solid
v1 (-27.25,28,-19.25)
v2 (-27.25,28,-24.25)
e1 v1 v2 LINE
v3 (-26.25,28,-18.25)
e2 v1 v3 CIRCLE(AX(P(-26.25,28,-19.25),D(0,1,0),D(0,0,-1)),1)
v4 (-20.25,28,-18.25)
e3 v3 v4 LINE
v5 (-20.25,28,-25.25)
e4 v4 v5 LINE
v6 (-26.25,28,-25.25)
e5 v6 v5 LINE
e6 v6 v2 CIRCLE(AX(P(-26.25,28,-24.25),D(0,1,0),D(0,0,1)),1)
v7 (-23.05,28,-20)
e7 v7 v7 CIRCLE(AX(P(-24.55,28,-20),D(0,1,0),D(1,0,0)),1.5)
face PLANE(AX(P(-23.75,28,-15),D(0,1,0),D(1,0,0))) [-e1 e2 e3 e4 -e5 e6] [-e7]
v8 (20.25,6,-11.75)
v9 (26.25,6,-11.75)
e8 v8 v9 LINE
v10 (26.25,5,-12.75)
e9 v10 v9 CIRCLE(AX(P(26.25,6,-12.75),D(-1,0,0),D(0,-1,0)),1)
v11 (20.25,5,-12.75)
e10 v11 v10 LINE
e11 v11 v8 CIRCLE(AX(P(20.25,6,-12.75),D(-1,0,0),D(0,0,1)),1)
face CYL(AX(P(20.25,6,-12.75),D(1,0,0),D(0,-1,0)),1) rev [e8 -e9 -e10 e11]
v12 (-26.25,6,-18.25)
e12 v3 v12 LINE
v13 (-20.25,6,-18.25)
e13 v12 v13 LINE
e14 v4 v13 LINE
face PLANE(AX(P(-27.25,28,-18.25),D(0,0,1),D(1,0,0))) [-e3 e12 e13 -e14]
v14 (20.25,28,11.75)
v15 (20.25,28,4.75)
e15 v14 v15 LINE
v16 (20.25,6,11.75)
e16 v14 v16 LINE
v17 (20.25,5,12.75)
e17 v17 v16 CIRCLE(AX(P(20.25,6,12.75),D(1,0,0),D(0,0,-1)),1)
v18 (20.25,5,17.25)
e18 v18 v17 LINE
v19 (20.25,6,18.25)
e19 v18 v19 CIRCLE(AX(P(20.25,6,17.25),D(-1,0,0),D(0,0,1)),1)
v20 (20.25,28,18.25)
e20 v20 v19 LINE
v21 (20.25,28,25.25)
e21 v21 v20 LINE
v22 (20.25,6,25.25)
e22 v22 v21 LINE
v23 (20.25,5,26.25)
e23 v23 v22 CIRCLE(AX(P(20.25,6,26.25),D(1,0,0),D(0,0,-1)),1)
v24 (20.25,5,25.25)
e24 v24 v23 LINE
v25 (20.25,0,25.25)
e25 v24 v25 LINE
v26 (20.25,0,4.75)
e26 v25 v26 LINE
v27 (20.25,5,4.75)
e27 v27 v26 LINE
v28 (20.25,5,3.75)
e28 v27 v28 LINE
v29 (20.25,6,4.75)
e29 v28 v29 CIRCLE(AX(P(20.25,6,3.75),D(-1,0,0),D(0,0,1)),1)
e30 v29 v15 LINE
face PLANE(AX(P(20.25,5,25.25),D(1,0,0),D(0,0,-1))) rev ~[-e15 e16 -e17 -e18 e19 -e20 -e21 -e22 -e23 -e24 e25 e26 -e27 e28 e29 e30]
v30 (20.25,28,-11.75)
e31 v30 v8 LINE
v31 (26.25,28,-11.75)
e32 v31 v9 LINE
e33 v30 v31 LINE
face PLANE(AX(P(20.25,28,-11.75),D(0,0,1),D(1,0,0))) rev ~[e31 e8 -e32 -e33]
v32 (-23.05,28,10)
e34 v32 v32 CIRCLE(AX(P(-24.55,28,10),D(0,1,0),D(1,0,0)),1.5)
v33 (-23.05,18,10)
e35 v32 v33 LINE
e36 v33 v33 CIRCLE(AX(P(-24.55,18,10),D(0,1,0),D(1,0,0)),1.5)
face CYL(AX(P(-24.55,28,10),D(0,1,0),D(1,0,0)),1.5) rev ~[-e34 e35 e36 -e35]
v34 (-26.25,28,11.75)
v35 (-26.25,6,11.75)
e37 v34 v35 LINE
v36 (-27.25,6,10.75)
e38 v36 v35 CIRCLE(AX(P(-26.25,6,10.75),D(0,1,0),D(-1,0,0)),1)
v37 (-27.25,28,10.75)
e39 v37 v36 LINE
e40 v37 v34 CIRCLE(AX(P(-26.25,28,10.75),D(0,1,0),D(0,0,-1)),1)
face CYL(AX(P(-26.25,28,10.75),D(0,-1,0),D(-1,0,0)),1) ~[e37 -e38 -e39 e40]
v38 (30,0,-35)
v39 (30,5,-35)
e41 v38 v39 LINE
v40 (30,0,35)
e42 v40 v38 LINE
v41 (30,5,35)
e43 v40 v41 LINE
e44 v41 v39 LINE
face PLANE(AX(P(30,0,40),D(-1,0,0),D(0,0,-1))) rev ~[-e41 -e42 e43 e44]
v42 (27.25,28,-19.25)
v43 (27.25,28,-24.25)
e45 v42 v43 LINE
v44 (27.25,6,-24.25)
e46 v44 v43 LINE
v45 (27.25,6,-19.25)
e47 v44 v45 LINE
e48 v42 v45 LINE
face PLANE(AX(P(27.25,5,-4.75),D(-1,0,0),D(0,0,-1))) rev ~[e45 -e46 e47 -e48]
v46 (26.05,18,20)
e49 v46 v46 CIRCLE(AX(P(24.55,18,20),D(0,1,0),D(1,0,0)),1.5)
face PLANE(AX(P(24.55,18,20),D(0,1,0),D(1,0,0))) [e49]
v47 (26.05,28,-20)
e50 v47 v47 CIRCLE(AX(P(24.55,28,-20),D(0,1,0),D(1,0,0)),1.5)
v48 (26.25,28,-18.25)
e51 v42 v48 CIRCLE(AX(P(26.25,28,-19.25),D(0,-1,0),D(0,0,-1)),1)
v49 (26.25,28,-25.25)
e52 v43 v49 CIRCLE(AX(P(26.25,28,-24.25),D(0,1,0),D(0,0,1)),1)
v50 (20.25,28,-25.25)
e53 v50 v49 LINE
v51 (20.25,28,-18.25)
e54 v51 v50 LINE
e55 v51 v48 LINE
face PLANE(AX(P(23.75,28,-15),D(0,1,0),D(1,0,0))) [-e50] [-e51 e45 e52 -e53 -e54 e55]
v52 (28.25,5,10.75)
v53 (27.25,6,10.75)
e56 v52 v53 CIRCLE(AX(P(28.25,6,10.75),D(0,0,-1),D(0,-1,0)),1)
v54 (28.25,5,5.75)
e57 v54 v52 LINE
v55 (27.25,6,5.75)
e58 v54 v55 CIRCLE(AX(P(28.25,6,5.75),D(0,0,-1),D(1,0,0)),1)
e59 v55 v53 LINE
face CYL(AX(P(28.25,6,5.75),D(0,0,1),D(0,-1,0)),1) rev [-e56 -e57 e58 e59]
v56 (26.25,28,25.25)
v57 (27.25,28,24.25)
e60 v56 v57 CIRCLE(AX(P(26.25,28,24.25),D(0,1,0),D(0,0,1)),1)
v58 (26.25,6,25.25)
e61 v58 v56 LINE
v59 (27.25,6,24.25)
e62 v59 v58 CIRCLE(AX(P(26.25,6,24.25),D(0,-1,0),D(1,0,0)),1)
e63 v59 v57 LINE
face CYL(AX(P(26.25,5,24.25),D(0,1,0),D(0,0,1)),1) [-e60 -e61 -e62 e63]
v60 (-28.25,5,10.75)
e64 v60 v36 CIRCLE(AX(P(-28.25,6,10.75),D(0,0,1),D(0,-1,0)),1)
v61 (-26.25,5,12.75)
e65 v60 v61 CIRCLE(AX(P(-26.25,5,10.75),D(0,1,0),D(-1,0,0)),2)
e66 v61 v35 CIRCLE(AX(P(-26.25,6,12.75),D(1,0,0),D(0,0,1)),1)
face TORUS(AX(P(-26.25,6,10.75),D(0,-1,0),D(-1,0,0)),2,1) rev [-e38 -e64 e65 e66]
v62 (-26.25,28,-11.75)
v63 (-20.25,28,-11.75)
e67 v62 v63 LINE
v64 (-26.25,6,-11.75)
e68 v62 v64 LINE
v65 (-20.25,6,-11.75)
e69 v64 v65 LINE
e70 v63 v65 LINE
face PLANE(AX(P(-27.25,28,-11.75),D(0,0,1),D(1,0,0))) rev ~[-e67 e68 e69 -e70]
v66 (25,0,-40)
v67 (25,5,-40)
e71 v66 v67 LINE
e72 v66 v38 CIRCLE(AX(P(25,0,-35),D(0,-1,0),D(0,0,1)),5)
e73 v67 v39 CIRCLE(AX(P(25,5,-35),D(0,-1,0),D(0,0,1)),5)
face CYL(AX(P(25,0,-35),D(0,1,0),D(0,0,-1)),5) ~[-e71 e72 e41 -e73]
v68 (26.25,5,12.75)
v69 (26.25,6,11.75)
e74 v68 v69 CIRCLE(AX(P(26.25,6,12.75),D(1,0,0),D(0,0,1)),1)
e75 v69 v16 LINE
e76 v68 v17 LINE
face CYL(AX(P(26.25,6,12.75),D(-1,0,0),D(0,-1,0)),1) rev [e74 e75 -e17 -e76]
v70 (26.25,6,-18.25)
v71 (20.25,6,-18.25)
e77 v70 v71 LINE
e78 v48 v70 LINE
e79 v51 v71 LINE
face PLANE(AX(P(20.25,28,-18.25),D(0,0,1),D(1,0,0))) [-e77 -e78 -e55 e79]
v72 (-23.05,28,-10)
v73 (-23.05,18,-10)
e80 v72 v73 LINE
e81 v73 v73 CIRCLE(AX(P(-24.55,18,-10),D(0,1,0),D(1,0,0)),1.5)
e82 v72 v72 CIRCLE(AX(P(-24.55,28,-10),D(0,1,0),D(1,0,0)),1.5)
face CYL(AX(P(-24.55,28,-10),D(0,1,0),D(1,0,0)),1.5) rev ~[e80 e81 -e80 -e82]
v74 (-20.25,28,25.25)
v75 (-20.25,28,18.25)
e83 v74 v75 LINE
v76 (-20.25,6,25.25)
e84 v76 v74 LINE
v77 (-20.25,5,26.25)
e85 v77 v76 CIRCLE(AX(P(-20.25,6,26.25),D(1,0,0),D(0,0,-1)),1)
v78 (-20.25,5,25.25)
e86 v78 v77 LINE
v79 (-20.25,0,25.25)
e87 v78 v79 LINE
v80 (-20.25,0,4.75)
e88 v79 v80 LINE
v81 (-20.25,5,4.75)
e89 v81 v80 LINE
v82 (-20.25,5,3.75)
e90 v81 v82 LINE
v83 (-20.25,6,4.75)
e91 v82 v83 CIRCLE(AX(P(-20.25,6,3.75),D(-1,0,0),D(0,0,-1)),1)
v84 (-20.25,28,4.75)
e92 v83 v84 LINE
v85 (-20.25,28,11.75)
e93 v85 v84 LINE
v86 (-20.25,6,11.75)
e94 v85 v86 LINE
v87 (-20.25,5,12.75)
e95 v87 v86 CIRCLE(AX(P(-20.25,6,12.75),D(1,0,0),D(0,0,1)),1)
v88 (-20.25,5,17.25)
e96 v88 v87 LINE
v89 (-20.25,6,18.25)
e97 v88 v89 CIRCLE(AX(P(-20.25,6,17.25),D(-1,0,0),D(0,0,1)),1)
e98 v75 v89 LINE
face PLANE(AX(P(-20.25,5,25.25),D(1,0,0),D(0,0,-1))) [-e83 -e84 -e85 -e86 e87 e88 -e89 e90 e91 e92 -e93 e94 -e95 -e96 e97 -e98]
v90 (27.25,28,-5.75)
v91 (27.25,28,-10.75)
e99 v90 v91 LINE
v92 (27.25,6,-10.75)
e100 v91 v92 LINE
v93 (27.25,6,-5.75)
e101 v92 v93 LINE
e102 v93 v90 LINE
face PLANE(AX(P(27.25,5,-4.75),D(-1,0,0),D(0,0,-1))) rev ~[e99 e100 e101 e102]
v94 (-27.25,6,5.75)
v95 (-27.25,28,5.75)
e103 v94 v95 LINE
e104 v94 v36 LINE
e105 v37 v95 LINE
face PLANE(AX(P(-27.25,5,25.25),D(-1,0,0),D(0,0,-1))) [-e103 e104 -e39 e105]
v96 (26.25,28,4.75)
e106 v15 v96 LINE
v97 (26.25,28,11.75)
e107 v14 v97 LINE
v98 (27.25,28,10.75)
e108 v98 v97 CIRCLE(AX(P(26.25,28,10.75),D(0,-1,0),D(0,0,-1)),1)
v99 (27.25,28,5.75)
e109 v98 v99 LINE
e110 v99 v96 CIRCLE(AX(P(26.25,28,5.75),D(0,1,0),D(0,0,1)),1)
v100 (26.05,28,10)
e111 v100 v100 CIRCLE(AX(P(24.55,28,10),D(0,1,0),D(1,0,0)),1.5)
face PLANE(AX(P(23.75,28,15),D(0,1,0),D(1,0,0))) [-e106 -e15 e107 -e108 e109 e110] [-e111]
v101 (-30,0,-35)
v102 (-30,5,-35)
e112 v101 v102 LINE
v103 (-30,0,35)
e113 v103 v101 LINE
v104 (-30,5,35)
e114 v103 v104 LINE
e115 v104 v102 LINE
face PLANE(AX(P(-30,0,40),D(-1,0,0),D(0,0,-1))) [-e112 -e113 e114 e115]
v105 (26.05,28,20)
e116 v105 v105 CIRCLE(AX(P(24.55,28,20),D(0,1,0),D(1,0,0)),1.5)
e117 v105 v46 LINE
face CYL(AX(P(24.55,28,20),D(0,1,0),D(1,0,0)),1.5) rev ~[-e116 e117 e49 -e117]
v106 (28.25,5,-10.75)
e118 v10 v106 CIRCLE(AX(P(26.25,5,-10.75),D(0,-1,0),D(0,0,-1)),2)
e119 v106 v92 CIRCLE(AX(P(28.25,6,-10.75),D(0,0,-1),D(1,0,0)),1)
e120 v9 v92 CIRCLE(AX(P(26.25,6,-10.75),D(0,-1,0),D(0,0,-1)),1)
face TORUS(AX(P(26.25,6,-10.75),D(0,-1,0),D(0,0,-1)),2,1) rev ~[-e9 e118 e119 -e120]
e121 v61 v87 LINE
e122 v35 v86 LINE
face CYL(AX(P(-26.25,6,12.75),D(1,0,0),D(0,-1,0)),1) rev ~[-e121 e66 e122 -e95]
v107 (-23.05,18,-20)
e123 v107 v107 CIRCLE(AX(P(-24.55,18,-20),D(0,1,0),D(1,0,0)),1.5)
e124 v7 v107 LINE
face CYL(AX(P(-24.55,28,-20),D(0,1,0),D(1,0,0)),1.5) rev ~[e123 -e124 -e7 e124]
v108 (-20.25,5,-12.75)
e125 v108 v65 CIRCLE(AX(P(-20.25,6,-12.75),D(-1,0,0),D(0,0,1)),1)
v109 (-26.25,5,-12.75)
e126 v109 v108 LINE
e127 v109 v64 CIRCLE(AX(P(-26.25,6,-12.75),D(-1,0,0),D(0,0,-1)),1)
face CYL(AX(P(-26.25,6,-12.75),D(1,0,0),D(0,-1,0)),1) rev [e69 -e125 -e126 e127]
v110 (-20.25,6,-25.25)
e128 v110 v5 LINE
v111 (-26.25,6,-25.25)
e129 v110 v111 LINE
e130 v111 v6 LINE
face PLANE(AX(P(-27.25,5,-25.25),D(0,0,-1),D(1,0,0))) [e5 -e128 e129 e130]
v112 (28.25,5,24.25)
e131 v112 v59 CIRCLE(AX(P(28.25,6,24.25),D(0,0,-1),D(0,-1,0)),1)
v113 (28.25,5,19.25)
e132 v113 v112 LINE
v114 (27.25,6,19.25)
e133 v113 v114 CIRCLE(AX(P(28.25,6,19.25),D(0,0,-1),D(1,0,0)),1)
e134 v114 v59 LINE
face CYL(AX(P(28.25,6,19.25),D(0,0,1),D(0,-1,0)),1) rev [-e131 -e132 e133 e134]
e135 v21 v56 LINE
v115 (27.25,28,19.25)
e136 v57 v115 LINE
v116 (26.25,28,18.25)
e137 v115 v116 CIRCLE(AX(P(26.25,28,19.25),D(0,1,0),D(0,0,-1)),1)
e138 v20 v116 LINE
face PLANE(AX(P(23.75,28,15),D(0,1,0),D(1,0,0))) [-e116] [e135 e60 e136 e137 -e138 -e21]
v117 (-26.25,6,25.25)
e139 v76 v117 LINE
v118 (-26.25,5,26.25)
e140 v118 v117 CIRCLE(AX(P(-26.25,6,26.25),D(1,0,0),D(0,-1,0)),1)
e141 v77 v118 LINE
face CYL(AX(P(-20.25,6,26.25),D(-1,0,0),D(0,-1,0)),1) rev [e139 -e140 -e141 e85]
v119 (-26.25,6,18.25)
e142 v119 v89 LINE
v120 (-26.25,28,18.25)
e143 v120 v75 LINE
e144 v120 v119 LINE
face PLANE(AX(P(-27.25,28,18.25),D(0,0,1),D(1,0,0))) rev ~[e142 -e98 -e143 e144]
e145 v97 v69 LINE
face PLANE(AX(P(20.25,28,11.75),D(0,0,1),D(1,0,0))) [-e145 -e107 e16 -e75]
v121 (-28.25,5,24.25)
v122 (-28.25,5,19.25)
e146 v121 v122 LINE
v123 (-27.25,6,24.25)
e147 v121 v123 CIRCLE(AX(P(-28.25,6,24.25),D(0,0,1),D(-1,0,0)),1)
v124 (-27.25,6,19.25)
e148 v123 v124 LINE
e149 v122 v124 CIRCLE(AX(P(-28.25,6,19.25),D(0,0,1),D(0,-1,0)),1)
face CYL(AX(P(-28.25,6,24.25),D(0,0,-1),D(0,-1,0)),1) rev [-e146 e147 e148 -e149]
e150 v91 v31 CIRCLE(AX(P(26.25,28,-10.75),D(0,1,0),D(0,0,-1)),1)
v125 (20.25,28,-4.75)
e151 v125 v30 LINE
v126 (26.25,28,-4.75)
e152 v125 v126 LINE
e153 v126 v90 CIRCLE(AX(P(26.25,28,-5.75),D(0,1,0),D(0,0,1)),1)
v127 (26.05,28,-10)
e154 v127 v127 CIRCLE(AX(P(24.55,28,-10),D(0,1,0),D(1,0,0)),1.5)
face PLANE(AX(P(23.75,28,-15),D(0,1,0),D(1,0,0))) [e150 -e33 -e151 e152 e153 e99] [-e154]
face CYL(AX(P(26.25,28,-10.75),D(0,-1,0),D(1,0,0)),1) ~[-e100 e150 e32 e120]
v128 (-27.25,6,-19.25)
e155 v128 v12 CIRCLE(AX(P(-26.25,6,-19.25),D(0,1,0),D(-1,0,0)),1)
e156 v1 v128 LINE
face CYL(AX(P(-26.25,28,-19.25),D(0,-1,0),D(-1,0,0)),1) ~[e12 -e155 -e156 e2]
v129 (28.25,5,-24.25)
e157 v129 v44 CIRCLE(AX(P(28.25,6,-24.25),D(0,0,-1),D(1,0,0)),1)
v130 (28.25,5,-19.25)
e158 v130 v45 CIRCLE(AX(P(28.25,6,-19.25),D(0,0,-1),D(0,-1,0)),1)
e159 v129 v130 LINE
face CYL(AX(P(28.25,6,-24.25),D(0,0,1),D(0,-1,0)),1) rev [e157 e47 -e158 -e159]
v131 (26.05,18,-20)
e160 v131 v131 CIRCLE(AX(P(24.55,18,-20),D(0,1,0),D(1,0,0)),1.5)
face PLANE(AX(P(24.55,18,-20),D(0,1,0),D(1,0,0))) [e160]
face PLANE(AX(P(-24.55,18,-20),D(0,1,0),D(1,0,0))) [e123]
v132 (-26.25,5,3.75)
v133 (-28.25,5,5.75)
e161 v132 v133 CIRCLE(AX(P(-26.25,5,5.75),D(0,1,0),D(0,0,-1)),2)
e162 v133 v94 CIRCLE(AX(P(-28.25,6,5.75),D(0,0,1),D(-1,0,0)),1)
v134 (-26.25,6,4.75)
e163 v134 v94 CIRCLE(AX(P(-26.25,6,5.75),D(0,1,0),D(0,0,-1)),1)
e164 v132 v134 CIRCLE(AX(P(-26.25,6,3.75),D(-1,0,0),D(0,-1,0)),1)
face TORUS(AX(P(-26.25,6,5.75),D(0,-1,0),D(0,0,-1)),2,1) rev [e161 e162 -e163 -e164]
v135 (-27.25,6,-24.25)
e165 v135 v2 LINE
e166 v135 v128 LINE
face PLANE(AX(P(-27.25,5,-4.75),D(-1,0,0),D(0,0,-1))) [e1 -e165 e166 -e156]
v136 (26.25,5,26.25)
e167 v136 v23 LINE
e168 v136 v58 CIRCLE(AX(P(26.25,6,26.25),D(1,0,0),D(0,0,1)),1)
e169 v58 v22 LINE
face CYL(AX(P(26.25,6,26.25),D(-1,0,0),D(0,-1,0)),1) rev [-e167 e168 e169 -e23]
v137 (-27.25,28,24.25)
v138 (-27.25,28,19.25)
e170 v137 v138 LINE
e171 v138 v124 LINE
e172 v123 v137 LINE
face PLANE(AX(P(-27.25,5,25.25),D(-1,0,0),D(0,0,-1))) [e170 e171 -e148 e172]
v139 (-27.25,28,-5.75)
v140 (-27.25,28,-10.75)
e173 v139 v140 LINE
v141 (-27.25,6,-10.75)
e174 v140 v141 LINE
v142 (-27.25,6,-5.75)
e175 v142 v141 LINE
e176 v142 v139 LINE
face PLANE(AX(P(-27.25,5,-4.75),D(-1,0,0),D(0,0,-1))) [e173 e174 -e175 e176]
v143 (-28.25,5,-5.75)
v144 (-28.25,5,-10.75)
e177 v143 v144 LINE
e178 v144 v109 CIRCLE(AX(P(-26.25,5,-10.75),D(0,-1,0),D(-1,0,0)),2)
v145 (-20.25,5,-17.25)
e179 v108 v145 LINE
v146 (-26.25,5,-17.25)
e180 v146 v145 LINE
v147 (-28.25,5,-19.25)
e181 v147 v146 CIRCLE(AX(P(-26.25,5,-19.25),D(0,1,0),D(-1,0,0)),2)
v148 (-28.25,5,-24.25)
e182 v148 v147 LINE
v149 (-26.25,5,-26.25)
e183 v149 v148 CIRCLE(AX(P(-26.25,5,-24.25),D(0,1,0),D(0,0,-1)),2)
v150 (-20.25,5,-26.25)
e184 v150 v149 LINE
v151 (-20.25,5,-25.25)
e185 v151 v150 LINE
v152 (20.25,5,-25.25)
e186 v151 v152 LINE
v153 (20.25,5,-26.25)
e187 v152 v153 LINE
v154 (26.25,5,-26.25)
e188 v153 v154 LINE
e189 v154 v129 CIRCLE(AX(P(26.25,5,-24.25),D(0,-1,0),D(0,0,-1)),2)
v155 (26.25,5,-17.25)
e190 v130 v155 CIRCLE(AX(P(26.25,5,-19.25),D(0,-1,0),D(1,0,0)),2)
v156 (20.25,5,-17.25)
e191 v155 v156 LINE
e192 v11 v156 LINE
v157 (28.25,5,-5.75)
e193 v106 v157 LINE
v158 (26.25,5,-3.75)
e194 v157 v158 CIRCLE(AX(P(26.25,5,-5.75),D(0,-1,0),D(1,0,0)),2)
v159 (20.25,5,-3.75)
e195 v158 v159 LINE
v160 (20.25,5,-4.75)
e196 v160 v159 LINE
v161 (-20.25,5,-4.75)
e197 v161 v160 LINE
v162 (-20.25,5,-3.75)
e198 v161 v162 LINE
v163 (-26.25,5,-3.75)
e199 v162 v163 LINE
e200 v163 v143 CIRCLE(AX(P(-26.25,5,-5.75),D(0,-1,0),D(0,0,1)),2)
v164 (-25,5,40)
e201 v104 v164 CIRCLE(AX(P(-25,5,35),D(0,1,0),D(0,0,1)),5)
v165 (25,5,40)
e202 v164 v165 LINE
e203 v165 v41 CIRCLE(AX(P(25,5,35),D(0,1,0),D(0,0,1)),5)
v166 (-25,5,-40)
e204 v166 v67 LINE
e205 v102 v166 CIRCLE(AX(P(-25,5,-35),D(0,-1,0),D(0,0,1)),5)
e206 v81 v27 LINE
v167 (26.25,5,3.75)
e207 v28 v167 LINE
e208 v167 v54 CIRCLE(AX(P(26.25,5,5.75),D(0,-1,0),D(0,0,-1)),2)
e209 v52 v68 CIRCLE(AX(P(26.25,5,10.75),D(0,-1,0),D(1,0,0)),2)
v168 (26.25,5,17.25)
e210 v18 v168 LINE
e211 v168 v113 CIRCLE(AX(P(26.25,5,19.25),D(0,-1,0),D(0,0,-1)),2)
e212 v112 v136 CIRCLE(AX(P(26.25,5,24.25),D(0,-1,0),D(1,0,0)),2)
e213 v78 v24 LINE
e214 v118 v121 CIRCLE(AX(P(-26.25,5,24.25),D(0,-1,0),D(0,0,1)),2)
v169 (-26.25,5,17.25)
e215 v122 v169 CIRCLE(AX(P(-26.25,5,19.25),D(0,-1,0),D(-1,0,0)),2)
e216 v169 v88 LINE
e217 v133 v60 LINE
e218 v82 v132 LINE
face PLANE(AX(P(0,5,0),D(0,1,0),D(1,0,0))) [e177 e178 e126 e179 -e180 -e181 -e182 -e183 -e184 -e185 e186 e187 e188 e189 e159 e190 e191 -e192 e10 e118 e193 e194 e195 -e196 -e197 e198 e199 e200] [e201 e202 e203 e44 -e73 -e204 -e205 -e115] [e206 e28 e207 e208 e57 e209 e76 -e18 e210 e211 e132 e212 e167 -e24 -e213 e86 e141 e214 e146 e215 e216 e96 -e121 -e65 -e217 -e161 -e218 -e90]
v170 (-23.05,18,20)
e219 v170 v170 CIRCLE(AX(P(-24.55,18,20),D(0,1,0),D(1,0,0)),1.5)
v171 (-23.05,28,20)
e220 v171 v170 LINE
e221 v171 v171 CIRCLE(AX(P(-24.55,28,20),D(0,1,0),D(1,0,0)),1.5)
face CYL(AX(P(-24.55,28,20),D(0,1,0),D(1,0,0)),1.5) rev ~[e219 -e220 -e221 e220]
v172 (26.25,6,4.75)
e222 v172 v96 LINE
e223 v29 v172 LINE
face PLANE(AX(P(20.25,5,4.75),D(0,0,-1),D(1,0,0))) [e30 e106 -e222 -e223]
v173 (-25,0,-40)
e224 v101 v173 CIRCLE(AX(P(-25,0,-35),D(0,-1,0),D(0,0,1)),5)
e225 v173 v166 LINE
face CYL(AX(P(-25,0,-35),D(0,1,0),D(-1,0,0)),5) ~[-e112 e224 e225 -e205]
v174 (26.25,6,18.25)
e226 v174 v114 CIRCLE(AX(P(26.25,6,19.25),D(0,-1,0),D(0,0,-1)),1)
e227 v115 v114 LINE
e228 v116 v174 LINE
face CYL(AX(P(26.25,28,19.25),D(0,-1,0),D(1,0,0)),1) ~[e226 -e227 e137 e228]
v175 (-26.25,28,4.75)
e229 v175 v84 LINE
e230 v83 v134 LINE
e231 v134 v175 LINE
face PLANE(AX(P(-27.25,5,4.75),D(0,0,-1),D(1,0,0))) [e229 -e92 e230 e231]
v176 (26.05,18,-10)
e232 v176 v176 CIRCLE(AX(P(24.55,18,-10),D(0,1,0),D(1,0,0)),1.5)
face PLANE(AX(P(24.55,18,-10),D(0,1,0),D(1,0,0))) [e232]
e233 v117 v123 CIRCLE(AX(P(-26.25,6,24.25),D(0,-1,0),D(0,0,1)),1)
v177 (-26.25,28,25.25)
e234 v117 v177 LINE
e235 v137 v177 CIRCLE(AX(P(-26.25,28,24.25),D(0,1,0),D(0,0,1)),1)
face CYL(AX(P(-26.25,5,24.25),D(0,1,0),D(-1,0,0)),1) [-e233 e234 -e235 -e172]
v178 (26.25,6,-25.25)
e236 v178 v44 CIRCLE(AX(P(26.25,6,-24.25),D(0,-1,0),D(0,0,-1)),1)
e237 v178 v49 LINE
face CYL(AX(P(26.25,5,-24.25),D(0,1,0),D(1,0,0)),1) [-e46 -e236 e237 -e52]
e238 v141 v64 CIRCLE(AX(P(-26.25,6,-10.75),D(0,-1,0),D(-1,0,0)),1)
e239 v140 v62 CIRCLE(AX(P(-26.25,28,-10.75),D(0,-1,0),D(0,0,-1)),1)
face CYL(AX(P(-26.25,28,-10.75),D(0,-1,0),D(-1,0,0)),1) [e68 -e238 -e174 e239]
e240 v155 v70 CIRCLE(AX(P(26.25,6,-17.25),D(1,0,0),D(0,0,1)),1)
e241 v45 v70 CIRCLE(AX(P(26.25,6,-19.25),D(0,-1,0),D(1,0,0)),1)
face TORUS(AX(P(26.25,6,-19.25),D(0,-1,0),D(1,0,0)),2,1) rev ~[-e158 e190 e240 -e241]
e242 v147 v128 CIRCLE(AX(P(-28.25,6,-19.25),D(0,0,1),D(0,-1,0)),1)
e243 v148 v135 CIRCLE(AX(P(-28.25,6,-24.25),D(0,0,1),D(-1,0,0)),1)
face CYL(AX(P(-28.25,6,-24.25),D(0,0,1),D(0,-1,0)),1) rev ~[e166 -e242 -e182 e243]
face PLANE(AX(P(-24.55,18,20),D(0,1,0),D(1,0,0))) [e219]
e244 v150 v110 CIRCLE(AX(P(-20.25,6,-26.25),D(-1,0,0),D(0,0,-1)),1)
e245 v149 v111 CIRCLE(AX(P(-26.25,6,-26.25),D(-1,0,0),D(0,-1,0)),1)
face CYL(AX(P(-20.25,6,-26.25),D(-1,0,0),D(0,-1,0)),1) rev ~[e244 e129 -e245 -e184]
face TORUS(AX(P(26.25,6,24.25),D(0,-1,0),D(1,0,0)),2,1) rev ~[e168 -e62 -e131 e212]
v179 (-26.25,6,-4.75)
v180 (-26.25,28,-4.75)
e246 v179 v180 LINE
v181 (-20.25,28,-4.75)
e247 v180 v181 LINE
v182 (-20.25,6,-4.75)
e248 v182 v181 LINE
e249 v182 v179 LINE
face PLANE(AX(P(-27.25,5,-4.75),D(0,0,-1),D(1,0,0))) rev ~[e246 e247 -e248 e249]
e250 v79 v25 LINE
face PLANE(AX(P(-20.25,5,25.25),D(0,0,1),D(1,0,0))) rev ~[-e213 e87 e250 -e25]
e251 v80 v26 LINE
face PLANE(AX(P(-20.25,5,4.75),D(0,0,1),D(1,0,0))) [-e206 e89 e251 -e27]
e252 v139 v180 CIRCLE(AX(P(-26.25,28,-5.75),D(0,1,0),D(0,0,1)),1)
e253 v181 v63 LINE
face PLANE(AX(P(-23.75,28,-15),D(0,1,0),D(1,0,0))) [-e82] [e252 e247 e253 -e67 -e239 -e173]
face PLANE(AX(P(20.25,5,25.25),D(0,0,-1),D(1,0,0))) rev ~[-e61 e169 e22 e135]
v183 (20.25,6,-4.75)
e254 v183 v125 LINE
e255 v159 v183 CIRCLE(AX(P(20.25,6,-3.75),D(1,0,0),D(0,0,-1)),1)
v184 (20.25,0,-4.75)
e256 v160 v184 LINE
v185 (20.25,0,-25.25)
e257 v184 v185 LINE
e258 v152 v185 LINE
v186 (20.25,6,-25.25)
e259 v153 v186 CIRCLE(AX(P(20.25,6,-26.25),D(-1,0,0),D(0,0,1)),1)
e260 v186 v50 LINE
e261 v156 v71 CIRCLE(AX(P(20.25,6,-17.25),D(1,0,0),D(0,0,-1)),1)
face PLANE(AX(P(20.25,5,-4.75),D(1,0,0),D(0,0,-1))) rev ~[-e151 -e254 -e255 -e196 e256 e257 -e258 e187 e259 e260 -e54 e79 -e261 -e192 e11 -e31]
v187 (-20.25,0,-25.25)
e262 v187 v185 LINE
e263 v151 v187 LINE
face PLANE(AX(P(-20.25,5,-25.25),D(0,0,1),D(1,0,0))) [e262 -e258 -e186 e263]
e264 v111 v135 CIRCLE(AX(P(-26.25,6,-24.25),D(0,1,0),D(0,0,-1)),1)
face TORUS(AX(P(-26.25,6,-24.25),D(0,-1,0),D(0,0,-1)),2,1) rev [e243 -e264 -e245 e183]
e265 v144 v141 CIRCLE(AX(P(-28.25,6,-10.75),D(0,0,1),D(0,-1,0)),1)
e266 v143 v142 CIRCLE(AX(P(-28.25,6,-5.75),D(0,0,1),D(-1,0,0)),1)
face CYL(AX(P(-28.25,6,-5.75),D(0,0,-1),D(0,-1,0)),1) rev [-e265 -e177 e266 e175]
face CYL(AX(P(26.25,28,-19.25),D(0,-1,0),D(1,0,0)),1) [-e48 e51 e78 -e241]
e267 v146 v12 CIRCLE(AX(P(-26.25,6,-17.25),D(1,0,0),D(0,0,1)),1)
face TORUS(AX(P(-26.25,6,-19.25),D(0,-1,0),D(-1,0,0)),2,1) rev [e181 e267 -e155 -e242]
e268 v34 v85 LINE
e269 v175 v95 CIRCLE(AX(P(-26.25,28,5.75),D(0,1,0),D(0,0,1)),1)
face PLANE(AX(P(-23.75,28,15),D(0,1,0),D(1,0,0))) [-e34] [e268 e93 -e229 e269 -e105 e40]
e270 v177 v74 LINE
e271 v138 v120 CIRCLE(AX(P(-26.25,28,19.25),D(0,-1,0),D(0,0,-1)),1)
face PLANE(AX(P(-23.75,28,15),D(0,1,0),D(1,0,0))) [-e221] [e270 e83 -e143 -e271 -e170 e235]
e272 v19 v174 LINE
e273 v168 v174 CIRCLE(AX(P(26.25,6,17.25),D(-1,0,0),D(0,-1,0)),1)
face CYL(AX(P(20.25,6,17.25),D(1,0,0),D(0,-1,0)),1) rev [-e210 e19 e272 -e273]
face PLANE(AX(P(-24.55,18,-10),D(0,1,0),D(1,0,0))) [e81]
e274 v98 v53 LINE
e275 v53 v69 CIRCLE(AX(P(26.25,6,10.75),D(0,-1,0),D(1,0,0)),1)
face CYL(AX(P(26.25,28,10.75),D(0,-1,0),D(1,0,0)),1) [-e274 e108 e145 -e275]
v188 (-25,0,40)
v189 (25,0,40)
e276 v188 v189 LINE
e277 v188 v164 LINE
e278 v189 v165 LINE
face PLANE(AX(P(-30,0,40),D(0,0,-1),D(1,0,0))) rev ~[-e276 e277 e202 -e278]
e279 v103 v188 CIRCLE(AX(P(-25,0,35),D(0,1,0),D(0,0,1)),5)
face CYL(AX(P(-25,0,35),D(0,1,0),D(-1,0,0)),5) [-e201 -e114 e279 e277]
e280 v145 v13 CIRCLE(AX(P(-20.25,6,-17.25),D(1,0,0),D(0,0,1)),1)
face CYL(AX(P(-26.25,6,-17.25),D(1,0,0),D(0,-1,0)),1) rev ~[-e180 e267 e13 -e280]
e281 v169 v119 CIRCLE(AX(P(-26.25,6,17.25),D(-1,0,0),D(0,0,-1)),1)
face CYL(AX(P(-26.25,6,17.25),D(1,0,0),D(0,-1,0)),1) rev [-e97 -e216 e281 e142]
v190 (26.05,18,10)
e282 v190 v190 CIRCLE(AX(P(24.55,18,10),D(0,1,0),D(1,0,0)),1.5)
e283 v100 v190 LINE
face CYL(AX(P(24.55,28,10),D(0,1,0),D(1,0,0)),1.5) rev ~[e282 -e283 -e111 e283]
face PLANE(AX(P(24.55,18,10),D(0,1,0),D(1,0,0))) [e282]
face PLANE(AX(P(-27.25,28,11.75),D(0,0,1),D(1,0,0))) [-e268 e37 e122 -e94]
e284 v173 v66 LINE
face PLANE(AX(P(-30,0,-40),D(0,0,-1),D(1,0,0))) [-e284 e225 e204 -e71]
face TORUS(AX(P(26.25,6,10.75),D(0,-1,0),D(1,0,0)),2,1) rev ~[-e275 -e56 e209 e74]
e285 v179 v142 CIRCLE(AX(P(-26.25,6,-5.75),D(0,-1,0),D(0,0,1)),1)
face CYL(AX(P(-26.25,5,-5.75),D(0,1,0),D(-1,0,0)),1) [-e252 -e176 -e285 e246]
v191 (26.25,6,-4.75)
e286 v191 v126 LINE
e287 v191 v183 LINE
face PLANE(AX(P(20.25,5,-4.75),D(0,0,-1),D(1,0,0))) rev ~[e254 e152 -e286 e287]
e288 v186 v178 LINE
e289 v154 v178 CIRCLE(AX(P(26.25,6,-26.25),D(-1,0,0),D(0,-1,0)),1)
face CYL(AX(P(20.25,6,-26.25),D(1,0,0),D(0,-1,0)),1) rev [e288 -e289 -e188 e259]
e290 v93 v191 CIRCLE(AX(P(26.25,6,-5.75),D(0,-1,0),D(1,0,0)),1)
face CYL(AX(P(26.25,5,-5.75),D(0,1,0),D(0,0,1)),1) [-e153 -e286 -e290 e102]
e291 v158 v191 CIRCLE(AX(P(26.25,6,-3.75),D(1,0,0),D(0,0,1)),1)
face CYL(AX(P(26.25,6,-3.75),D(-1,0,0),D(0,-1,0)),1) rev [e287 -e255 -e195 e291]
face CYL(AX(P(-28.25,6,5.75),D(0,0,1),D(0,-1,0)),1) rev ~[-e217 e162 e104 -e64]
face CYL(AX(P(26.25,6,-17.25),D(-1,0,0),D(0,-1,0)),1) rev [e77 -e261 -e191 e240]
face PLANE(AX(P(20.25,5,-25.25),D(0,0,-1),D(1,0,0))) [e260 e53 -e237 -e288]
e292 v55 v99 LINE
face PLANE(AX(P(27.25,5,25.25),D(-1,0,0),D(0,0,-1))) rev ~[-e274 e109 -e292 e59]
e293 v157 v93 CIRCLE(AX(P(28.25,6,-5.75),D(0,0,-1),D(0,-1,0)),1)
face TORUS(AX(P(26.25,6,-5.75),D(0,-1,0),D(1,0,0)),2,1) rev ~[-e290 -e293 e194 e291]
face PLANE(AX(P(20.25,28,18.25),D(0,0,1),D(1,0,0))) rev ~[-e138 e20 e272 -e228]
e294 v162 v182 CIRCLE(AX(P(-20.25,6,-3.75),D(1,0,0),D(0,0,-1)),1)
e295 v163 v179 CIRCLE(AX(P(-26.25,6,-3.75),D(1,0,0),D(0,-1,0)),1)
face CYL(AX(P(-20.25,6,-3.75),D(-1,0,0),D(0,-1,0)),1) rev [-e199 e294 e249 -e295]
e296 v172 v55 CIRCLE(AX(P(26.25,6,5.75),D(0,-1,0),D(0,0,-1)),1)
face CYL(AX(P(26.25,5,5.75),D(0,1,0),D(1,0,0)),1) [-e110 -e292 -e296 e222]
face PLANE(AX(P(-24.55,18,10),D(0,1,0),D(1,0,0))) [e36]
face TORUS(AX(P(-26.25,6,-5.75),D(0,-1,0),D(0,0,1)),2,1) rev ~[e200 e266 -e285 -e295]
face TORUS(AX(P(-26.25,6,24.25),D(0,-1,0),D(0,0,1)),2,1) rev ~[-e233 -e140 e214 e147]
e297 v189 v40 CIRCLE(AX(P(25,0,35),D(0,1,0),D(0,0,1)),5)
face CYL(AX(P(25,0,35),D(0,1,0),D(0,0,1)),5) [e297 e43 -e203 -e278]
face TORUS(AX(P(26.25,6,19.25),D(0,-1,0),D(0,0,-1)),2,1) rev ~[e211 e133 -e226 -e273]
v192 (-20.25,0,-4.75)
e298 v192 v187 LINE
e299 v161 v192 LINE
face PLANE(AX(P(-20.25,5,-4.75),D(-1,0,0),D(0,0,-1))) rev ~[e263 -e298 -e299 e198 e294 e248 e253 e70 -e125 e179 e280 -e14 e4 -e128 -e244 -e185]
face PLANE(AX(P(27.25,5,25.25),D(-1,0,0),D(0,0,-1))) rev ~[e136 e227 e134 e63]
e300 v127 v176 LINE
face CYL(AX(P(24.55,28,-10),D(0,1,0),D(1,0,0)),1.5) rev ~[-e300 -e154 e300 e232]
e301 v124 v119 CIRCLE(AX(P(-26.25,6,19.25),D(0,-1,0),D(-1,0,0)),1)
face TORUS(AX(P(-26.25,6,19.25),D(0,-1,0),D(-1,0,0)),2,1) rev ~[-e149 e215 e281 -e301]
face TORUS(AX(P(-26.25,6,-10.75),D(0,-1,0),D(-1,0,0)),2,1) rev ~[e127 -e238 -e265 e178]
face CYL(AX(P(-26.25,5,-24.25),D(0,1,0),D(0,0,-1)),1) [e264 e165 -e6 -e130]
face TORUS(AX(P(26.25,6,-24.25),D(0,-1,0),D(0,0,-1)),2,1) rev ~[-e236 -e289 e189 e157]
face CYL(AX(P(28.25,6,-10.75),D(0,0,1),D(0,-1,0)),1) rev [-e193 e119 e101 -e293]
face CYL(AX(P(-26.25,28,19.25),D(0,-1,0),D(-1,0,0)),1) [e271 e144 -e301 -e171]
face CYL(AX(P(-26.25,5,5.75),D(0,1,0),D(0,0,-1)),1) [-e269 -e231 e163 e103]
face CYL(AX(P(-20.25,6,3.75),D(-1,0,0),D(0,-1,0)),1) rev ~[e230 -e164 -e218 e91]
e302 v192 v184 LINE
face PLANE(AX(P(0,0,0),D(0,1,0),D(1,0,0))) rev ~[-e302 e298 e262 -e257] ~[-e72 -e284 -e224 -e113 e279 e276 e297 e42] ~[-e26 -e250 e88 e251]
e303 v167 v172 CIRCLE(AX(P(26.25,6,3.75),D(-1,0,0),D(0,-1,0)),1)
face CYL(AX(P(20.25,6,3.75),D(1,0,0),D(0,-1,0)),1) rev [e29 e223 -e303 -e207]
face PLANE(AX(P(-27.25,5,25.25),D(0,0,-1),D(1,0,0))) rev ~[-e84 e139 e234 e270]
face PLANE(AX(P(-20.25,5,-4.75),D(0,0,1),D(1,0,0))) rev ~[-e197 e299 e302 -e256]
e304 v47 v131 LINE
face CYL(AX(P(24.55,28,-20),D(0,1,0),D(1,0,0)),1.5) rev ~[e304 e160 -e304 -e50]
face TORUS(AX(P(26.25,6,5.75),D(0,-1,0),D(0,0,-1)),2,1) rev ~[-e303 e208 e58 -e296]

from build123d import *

# Parameters (mm, degrees)
SKETCH_1_W          = 60
SKETCH_1_H          = 80
EXTRUDE_1_DEPTH     = 5
SKETCH_2_W          = 40.5
SKETCH_2_H          = 20.5
CUT_EXTRUDE_1_DEPTH = 6
SKETCH_3_W          = 7
SKETCH_3_H          = 20.5
EXTRUDE_2_DEPTH     = 23
SKETCH_4_R          = 1.5
CUT_EXTRUDE_2_DEPTH = 10
FILLET_1_R          = 5
SKETCH_6_W          = 7
SKETCH_6_H          = 6.5
CUT_EXTRUDE_9_DEPTH = 23
FILLET_4_R          = 1
FILLET_6_R          = 1


with BuildPart() as part:
    # 草图1 → 凸台-拉伸1 (new body)
    with BuildSketch(Plane(origin=(0, 0, 0), x_dir=(1, 0, 0), z_dir=(0, 1, 0))):
        Rectangle(SKETCH_1_W, SKETCH_1_H)
    extrude(amount=EXTRUDE_1_DEPTH)

    # 草图2 → 切除-拉伸1 (cut, through all)
    with BuildSketch(Plane(origin=(0, 5, 0), x_dir=(1, 0, 0), z_dir=(0, 1, 0))):
        with Locations((0, -15)):
            Rectangle(SKETCH_2_W, SKETCH_2_H)
        with Locations((0, 15)):
            Rectangle(SKETCH_2_W, SKETCH_2_H)
    extrude(amount=-CUT_EXTRUDE_1_DEPTH, mode=Mode.SUBTRACT)

    # 草图3 → 凸台-拉伸2 (add)
    with BuildSketch(Plane(origin=(0, 5, 0), x_dir=(1, 0, 0), z_dir=(0, 1, 0))):
        with Locations((-23.75, 15)):
            Rectangle(SKETCH_3_W, SKETCH_3_H)
        with Locations((23.75, 15)):
            Rectangle(SKETCH_3_W, SKETCH_3_H)
        with Locations((23.75, -15)):
            Rectangle(SKETCH_3_W, SKETCH_3_H)
        with Locations((-23.75, -15)):
            Rectangle(SKETCH_3_W, SKETCH_3_H)
    extrude(amount=EXTRUDE_2_DEPTH)

    # 草图4 → 切除-拉伸2 (cut)
    with BuildSketch(Plane(origin=(0, 28, 0), x_dir=(1, 0, 0), z_dir=(0, 1, 0))):
        with Locations((-24.55, 20)):
            Circle(SKETCH_4_R)
        with Locations((-24.55, 10)):
            Circle(SKETCH_4_R)
        with Locations((24.55, 10)):
            Circle(SKETCH_4_R)
        with Locations((24.55, 20)):
            Circle(SKETCH_4_R)
        with Locations((24.55, -10)):
            Circle(SKETCH_4_R)
        with Locations((24.55, -20)):
            Circle(SKETCH_4_R)
        with Locations((-24.55, -10)):
            Circle(SKETCH_4_R)
        with Locations((-24.55, -20)):
            Circle(SKETCH_4_R)
    extrude(amount=-CUT_EXTRUDE_2_DEPTH, mode=Mode.SUBTRACT)

    # 圆角1
    fillet_1_edges = [part.edges().sort_by_distance(p)[0] for p in [
        (-30, 2.5, -40),
        (30, 2.5, -40),
        (30, 2.5, 40),
        (-30, 2.5, 40),
    ]]
    fillet(fillet_1_edges, radius=FILLET_1_R)

    # 草图6 → 切除-拉伸9 (cut)
    with BuildSketch(Plane(origin=(0, 28, 0), x_dir=(1, 0, 0), z_dir=(0, 1, 0))):
        with Locations((-23.75, 15)):
            Rectangle(SKETCH_6_W, SKETCH_6_H)
        with Locations((23.75, 15)):
            Rectangle(SKETCH_6_W, SKETCH_6_H)
        with Locations((23.75, -15)):
            Rectangle(SKETCH_6_W, SKETCH_6_H)
        with Locations((-23.75, -15)):
            Rectangle(SKETCH_6_W, SKETCH_6_H)
    extrude(amount=-CUT_EXTRUDE_9_DEPTH, mode=Mode.SUBTRACT)

    # 圆角4
    fillet_4_edges = [part.edges().sort_by_distance(p)[0] for p in [
        (-27.25, 16.5, 18.25),
        (-27.25, 16.5, 11.75),
        (27.25, 16.5, 11.75),
        (27.25, 16.5, 18.25),
        (27.25, 16.5, -18.25),
        (27.25, 16.5, -11.75),
        (-27.25, 16.5, -11.75),
        (-27.25, 16.5, -18.25),
        (-27.25, 16.5, -25.25),
        (-27.25, 16.5, -4.75),
        (27.25, 16.5, -4.75),
        (27.25, 16.5, -25.25),
        (27.25, 16.5, 25.25),
        (27.25, 16.5, 4.75),
        (-27.25, 16.5, 4.75),
        (-27.25, 16.5, 25.25),
    ]]
    fillet(fillet_4_edges, radius=FILLET_4_R)

    # 圆角6
    fillet_6_edges = [part.edges().sort_by_distance(p)[0] for p in [
        (-23.25, 5, 11.75),
        (23.25, 5, 18.25),
        (23.25, 5, -11.75),
        (-23.25, 5, -18.25),
        (23.25, 5, -25.25),
        (27.25, 5, -21.75),
        (23.25, 5, -18.25),
        (27.25, 5, -8.25),
        (23.25, 5, 4.75),
        (27.25, 5, 8.25),
        (23.25, 5, 11.75),
        (27.25, 5, 21.75),
        (-23.25, 5, 18.25),
        (-27.25, 5, 21.75),
        (-23.25, 5, 25.25),
        (-27.25, 5, 8.25),
        (-27.25, 5, -21.75),
        (-23.25, 5, -11.75),
        (-27.25, 5, -8.25),
        (-23.25, 5, -4.75),
        (26.957106781, 5, -24.957106781),
        (26.957106781, 5, -18.542893219),
        (26.957106781, 5, -11.457106781),
        (26.957106781, 5, -5.042893219),
        (26.957106781, 5, 5.042893219),
        (26.957106781, 5, 11.457106781),
        (26.957106781, 5, 18.542893219),
        (26.957106781, 5, 24.957106781),
        (-26.957106781, 5, 18.542893219),
        (-26.957106781, 5, 24.957106781),
        (-26.957106781, 5, 5.042893219),
        (-26.957106781, 5, 11.457106781),
        (-26.957106781, 5, -24.957106781),
        (-26.957106781, 5, -11.457106781),
        (-26.957106781, 5, -5.042893219),
        (-26.957106781, 5, -18.542893219),
        (-23.25, 5, -25.25),
        (23.25, 5, -4.75),
        (23.25, 5, 25.25),
        (-23.25, 5, 4.75),
    ]]
    fillet(fillet_6_edges, radius=FILLET_6_R)


solid = part.part
